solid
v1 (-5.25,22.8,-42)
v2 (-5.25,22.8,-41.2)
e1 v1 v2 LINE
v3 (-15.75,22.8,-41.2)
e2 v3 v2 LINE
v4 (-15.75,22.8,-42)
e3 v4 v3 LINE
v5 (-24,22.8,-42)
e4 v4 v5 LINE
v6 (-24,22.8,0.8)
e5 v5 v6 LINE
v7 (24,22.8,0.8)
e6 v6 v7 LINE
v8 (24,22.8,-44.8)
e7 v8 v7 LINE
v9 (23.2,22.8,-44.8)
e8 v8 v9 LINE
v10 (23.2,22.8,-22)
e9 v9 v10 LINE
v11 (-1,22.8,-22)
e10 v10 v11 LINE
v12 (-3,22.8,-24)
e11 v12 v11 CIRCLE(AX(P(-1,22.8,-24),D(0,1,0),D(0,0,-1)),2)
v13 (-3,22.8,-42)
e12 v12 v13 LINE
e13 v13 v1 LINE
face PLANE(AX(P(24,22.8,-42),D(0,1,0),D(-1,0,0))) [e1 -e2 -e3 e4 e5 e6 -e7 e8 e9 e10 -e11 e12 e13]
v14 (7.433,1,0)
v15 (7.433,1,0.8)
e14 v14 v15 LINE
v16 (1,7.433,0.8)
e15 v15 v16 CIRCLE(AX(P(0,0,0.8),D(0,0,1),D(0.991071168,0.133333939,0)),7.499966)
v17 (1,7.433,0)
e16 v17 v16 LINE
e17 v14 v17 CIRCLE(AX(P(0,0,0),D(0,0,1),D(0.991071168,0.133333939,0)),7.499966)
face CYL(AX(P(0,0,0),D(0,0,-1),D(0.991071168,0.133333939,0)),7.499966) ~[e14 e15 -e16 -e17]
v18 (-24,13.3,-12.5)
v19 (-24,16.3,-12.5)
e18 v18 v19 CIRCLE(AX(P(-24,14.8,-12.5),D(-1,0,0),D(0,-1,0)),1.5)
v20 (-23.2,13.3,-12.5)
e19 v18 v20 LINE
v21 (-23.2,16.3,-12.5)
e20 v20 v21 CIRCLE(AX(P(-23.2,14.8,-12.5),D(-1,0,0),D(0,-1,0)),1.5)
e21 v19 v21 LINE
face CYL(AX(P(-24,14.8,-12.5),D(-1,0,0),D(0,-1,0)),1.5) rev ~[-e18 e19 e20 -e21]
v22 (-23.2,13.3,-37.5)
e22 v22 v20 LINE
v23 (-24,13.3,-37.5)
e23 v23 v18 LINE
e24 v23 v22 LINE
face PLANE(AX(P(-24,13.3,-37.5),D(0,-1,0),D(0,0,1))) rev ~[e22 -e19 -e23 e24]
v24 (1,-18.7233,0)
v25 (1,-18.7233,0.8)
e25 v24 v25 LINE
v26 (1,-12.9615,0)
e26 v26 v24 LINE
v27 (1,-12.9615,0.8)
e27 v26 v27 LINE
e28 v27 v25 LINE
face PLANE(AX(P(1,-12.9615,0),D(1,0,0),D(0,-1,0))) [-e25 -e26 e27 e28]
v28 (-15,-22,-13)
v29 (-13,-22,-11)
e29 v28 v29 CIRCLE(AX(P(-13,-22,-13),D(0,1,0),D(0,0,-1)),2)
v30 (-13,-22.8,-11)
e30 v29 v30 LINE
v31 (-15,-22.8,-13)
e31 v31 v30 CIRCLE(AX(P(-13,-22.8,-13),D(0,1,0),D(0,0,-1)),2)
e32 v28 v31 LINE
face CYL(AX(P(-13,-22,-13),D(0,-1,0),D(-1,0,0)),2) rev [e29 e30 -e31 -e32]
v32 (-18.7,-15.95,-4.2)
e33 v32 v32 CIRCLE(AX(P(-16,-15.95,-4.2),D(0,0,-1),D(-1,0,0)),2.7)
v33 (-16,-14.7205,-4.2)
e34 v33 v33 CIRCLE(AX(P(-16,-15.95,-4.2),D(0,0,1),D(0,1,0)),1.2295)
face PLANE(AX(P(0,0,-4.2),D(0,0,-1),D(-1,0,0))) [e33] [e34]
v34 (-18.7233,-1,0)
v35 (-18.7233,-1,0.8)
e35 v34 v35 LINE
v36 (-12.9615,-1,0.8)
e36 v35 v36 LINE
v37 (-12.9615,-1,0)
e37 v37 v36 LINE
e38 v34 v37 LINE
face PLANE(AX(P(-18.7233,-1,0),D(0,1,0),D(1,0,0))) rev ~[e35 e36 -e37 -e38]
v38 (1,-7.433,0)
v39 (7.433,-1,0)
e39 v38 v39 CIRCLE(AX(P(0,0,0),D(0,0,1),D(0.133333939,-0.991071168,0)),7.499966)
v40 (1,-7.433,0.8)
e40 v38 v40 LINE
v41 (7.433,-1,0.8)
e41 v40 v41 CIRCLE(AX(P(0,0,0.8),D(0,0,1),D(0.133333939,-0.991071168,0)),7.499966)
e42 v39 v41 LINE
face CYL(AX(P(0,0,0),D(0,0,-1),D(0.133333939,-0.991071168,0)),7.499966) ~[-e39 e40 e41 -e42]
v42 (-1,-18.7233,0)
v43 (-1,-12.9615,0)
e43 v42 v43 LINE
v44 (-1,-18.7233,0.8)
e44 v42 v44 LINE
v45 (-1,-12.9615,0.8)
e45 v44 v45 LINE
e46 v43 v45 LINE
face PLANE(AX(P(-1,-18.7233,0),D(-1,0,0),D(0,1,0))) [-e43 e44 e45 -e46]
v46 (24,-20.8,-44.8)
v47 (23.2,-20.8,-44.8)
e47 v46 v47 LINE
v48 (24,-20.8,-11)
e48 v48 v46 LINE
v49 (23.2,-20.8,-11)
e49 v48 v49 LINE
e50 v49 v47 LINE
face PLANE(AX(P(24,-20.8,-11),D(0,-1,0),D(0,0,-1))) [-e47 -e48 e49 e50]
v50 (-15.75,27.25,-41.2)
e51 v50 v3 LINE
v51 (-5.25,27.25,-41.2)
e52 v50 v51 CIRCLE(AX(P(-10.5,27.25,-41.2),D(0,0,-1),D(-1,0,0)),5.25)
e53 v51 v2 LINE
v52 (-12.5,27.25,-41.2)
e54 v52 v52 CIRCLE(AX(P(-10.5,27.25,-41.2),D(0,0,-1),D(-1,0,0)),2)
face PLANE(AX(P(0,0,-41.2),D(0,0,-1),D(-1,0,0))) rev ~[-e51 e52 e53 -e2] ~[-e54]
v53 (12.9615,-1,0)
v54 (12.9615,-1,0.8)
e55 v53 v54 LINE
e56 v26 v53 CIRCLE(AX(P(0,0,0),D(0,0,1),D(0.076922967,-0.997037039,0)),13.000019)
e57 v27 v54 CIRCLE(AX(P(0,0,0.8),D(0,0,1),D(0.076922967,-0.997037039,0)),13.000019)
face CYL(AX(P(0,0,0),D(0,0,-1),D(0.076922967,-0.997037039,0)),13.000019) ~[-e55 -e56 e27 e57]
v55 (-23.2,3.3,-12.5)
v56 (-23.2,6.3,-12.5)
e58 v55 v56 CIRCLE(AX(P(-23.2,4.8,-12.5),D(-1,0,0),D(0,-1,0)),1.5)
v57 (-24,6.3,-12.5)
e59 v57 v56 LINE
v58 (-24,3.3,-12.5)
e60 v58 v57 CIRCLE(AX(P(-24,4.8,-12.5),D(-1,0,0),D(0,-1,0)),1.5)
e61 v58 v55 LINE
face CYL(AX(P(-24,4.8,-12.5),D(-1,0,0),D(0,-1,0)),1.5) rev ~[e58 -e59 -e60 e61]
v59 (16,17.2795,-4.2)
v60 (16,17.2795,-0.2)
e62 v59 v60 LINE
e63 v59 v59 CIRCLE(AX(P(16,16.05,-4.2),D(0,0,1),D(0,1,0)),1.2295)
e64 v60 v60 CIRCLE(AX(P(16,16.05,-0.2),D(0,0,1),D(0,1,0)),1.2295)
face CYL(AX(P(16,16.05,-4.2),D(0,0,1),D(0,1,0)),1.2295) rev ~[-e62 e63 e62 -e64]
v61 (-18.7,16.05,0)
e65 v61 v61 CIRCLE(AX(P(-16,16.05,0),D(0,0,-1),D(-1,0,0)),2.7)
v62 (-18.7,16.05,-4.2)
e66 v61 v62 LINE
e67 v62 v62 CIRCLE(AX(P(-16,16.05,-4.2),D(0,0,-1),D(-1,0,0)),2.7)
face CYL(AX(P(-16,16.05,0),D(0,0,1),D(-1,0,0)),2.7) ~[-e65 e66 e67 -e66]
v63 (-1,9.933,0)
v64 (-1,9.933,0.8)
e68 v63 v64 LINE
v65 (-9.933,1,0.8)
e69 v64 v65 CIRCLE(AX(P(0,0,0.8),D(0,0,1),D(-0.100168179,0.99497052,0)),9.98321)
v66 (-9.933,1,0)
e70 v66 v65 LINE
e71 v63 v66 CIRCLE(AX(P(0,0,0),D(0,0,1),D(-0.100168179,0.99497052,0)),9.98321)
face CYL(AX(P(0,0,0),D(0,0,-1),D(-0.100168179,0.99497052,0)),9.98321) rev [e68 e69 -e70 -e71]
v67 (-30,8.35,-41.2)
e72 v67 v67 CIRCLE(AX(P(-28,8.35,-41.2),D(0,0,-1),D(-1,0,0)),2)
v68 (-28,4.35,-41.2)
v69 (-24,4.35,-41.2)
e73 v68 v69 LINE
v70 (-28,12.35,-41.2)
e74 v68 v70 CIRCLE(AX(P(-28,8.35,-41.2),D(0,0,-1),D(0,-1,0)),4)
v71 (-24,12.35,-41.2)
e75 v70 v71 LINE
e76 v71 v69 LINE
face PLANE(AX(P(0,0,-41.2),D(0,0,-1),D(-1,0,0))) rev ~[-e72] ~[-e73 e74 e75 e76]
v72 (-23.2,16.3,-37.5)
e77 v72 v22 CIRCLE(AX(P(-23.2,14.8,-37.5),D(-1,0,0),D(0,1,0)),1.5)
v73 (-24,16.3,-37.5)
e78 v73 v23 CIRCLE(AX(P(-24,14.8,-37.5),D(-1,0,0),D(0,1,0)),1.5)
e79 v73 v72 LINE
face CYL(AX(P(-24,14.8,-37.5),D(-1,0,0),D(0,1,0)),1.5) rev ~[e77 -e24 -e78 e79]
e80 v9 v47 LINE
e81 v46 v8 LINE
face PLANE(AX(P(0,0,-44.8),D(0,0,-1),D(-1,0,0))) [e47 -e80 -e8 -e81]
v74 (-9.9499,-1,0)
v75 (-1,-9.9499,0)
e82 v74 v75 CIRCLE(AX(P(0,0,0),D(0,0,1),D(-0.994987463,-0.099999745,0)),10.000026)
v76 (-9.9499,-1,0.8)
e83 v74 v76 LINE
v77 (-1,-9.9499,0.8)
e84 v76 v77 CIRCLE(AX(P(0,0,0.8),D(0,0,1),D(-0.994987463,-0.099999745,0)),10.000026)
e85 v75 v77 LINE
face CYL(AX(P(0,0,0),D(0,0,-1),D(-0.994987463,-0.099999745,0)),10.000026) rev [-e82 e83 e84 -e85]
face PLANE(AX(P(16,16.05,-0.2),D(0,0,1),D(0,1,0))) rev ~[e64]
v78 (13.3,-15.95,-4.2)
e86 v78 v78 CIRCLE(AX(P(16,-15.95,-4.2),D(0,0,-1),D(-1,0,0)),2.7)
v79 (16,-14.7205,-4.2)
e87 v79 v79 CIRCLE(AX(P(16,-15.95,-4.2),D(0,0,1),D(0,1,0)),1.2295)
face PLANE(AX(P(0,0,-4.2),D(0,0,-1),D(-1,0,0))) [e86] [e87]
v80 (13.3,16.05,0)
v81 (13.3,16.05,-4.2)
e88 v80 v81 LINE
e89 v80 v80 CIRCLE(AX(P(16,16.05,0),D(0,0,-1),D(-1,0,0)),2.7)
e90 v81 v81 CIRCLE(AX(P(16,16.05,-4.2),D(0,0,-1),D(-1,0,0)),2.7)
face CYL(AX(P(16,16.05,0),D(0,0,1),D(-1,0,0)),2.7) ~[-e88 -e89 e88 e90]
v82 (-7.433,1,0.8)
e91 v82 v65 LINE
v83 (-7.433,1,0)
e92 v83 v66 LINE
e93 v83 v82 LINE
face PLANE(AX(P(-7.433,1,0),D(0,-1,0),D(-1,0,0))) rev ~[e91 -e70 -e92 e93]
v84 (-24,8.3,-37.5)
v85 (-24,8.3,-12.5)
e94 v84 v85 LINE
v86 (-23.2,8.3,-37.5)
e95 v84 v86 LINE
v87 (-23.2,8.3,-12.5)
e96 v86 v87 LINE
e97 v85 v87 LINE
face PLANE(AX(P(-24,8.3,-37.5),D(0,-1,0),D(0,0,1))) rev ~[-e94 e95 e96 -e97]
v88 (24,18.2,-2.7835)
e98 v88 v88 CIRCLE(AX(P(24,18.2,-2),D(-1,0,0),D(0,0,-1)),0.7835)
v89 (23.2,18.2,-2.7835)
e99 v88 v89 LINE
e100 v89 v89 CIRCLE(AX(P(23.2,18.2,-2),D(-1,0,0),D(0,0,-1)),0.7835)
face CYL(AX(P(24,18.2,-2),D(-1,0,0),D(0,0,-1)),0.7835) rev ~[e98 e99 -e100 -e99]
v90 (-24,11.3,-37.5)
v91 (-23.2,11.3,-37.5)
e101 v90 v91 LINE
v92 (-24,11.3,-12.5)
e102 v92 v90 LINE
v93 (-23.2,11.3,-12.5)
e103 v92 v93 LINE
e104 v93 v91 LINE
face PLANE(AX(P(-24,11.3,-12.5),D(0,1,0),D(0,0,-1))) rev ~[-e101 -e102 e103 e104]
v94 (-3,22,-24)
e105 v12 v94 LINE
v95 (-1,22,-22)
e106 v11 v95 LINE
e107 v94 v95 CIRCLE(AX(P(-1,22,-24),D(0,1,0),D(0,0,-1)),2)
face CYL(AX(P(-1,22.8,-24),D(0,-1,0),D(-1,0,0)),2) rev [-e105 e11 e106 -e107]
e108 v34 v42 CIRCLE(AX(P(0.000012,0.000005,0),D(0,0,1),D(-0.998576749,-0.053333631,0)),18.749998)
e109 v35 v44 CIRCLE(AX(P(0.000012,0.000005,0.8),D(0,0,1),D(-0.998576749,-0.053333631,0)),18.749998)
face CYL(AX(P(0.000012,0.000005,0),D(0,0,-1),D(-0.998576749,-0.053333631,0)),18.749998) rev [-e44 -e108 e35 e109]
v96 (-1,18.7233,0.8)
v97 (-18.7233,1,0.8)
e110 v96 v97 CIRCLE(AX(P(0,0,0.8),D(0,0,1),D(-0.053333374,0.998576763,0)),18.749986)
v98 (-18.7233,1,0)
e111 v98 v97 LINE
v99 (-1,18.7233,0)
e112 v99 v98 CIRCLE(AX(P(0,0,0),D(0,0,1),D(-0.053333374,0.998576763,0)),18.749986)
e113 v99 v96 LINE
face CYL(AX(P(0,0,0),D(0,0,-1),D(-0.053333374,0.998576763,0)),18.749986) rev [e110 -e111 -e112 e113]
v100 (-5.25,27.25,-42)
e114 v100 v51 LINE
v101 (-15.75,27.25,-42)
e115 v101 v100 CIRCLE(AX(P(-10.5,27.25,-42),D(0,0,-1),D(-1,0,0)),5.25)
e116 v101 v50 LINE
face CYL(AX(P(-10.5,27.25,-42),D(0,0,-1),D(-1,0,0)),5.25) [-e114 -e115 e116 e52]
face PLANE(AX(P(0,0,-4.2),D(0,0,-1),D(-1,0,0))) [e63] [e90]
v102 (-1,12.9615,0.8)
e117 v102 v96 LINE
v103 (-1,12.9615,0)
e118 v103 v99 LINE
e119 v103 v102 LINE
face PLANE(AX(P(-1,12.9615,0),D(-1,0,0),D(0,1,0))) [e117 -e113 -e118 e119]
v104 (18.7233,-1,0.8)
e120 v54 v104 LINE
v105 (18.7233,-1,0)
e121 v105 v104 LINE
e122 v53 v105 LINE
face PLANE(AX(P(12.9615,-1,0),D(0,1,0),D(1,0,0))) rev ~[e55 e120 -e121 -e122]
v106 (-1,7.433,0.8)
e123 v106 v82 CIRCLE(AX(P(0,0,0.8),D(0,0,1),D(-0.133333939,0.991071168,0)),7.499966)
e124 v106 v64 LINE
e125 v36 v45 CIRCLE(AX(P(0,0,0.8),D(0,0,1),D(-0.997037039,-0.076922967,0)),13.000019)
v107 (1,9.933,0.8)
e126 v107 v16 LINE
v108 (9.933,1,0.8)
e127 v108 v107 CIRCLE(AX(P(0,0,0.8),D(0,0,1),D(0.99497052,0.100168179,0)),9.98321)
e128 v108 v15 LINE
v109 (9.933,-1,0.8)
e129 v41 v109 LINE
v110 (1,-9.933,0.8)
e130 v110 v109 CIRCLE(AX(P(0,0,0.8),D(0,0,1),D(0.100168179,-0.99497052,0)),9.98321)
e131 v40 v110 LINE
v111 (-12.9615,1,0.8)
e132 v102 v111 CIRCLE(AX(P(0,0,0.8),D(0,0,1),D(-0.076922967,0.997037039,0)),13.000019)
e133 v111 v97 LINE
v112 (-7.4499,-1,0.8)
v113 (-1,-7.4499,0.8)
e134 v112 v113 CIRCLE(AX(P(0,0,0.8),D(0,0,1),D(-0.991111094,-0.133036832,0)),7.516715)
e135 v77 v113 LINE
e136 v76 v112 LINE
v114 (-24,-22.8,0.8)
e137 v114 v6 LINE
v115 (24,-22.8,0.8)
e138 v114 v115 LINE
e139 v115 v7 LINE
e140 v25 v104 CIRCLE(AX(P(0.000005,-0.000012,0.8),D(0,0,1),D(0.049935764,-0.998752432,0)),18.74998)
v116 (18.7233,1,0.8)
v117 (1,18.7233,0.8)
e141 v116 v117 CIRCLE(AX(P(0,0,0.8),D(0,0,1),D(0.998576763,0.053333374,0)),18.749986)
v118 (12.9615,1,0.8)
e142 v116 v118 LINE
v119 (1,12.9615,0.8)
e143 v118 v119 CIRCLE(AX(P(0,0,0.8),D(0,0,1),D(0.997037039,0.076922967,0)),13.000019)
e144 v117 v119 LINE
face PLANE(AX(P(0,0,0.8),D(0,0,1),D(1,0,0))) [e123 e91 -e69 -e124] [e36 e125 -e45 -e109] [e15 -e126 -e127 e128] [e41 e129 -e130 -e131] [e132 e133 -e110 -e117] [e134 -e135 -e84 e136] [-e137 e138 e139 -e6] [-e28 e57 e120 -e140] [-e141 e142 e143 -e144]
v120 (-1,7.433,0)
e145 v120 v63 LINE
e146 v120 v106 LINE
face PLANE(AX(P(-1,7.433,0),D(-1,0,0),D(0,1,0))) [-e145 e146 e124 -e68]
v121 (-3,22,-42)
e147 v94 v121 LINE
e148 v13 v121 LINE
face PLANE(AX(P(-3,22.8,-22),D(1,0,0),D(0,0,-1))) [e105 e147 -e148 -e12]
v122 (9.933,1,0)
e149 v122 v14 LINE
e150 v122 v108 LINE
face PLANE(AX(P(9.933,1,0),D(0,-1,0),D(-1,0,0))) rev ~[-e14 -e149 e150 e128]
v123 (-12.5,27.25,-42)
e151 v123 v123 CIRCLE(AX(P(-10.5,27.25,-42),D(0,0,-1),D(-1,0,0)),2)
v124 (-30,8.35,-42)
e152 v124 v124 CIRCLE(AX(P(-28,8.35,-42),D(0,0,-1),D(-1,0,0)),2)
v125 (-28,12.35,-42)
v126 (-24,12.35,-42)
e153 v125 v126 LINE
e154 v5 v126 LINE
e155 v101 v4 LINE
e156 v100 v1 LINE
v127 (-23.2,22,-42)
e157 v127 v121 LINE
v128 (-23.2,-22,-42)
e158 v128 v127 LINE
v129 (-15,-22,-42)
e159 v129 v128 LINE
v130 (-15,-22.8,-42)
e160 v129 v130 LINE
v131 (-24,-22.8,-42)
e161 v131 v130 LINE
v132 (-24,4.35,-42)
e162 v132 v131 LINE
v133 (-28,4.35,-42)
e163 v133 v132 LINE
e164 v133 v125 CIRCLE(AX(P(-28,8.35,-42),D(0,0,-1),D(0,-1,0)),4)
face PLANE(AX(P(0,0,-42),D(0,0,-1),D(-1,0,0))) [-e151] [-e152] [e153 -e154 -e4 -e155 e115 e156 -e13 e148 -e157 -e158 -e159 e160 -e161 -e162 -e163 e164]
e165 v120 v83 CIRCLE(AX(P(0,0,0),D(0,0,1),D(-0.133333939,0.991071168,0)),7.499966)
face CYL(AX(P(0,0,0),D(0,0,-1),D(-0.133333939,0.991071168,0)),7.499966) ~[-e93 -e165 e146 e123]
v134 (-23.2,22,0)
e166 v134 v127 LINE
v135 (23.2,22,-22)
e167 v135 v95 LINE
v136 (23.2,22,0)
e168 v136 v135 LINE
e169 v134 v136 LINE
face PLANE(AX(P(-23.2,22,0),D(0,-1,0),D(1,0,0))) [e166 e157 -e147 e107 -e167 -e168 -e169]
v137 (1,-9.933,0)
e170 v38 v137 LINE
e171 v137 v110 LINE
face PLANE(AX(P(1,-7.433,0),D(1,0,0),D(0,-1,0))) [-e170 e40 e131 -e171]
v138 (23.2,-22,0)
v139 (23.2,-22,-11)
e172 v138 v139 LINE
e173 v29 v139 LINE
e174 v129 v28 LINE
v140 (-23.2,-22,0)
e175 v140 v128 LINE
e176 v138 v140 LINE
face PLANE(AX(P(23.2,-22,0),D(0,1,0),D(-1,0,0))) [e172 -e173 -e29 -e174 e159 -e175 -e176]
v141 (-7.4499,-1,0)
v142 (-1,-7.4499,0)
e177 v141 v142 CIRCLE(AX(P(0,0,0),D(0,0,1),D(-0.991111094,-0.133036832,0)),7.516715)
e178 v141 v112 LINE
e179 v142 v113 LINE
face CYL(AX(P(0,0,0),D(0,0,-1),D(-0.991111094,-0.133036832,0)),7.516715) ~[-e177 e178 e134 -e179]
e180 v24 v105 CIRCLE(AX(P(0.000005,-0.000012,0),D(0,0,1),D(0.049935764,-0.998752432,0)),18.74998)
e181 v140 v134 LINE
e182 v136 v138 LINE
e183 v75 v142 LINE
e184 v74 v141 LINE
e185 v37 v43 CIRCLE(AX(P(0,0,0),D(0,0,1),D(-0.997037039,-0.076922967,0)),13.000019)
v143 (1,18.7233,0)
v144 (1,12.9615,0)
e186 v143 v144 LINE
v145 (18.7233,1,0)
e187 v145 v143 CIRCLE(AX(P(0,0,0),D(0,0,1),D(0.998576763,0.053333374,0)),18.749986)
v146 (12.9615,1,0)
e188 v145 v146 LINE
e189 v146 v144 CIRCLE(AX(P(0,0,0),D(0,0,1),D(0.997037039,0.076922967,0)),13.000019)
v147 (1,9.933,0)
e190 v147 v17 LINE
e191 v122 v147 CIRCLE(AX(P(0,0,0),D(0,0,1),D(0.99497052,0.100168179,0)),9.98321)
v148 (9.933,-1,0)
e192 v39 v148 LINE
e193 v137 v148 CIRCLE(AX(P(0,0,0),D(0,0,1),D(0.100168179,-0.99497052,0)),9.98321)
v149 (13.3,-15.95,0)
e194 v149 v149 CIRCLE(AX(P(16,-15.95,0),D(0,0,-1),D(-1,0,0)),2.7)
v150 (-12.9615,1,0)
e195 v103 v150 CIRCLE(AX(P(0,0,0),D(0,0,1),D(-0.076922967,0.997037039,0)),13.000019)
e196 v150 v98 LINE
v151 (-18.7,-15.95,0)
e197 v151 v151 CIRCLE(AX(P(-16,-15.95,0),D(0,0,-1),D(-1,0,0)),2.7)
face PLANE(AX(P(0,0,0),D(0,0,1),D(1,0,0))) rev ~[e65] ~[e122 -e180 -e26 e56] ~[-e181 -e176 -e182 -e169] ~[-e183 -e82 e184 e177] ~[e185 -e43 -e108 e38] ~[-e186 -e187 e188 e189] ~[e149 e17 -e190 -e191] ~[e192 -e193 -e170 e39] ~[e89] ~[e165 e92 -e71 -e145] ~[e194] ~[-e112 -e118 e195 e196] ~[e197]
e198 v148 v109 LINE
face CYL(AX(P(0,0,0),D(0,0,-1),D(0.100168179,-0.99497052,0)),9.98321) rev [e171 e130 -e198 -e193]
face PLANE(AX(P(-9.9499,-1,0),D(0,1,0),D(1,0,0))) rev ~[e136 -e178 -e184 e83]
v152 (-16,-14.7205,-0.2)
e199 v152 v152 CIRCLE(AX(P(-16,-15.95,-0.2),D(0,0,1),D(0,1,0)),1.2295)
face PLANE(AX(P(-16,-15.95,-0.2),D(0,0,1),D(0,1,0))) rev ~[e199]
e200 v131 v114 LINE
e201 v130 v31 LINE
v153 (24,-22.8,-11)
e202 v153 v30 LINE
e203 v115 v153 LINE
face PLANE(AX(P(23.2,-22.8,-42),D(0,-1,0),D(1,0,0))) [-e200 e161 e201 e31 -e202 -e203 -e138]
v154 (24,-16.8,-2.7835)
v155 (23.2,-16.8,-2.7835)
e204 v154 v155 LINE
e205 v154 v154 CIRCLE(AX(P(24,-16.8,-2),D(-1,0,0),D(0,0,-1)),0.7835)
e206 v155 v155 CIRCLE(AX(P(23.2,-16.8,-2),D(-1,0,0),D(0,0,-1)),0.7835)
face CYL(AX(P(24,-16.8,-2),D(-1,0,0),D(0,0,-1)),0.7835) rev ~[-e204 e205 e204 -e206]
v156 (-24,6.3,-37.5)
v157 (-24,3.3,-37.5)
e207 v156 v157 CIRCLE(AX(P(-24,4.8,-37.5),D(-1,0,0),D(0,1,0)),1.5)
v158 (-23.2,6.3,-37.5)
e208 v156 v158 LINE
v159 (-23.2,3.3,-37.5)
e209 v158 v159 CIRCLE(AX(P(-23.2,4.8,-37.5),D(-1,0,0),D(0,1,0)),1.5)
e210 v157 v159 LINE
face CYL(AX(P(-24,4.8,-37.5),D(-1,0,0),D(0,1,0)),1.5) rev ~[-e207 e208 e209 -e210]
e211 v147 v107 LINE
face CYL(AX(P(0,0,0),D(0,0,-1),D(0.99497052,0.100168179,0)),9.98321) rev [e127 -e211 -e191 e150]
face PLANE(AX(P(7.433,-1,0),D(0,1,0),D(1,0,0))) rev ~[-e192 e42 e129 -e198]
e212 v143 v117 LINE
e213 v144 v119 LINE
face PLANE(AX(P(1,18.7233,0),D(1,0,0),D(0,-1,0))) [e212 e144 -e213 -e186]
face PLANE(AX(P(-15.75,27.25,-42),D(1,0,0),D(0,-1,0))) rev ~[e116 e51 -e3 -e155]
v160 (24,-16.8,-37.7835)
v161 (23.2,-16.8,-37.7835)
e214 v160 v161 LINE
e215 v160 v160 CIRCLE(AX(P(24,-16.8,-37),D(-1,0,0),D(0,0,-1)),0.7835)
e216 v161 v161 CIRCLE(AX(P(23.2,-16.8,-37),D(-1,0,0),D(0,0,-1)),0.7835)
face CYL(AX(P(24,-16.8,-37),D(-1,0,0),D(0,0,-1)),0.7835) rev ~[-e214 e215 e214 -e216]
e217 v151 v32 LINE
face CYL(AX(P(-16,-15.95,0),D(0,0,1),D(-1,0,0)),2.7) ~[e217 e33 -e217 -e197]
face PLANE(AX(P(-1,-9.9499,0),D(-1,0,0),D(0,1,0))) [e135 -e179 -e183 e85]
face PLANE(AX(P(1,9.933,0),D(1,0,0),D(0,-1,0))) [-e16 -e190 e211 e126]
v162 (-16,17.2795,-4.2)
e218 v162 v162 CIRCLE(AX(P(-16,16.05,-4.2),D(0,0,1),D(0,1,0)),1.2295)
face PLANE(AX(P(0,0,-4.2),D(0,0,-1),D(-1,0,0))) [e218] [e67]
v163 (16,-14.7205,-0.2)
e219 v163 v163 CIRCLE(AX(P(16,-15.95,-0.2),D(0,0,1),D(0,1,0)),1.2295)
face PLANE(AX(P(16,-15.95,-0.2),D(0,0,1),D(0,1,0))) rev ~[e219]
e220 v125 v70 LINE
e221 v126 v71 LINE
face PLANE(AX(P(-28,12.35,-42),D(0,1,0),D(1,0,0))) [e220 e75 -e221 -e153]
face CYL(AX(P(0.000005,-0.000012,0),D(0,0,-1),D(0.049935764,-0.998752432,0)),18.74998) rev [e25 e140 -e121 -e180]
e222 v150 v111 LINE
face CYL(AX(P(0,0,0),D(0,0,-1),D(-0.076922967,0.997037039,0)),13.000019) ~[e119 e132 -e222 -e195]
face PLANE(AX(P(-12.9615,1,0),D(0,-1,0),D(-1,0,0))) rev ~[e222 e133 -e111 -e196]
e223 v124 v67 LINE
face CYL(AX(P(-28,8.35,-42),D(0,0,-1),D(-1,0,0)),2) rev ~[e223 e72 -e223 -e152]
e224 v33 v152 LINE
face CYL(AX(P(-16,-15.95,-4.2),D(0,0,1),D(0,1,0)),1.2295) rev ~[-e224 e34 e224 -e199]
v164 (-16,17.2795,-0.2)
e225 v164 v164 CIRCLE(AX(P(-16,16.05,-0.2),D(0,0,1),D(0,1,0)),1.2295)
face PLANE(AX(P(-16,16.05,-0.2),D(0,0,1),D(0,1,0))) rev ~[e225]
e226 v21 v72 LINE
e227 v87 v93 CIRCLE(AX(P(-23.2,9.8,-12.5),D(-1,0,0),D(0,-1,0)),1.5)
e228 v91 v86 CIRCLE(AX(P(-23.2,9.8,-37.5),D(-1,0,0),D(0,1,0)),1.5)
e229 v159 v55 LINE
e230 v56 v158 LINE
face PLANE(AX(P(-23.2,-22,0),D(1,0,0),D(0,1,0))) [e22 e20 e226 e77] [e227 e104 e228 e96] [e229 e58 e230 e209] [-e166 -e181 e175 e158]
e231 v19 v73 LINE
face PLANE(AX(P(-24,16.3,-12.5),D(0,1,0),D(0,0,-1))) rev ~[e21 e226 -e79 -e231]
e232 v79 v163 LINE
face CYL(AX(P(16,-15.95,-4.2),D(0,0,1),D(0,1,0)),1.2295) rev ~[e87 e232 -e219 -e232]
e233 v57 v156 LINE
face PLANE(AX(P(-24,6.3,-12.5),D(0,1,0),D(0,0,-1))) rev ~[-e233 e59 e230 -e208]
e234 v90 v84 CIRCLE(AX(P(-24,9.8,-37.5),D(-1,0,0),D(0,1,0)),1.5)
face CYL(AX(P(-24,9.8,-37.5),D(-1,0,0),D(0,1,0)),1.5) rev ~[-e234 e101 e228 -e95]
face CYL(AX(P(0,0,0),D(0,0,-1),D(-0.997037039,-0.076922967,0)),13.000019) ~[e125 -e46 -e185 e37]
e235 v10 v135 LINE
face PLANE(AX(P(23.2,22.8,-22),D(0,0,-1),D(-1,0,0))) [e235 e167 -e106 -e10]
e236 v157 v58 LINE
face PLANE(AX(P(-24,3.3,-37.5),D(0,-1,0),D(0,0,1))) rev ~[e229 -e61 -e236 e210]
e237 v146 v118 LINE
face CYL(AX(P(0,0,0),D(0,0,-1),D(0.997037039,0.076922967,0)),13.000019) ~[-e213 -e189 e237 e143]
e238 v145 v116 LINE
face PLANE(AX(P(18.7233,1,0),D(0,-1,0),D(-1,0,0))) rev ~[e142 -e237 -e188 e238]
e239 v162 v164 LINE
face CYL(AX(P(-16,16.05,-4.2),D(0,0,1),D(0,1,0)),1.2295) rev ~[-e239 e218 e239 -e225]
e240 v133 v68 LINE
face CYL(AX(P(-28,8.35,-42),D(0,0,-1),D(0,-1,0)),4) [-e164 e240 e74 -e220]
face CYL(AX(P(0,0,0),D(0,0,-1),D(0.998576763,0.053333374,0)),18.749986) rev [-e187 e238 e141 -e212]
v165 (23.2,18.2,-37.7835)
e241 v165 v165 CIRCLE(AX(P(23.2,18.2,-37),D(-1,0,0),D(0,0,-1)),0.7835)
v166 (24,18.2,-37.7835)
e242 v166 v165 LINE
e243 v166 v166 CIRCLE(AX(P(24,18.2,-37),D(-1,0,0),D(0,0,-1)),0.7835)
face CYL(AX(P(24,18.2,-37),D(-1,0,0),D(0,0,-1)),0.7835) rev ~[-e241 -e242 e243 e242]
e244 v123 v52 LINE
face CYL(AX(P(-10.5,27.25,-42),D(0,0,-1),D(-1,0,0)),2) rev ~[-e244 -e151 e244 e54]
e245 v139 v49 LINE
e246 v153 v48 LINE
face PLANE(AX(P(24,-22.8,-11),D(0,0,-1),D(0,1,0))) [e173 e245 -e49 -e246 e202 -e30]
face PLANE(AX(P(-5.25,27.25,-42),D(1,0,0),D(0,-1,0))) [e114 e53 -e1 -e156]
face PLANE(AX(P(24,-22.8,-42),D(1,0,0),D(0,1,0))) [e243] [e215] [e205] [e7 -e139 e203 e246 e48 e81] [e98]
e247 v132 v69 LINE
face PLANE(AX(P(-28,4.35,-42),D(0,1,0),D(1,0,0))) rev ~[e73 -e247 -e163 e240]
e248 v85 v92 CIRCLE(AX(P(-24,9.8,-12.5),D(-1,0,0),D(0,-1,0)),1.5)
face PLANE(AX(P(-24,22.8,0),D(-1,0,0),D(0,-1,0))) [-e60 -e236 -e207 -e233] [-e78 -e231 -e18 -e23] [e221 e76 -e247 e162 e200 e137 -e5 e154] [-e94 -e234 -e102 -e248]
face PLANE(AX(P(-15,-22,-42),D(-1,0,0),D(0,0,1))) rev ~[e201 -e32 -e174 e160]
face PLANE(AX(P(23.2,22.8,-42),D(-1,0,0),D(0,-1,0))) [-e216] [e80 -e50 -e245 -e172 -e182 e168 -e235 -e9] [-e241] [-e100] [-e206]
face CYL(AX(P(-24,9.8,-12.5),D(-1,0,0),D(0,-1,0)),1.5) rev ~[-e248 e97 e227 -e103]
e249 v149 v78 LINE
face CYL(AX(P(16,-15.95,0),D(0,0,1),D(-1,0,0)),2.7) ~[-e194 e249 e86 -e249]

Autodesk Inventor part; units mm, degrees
ref_plane "YZ Plane" through (0, 0, 0) normal (1, 0, 0) x (0, 1, 0)
ref_plane "XZ Plane" through (0, 0, 0) normal (0, 1, 0) x (-1, 0, 0)
ref_plane "XY Plane" through (0, 0, 0) normal (0, 0, 1) x (1, 0, 0)
sketch "Sketch1" plane through (0, 0, 0) normal (0, 0, 1) x (1, 0, 0)
  line L0 (-24, 22.8) -> (24, 22.8)
  line L1 (24, 22.8) -> (24, -22.8)
  line L2 (24, -22.8) -> (-24, -22.8)
  line L3 (-24, -22.8) -> (-24, 22.8)
  circle A0 centre (-16, 16.05) radius 2.7
  circle A1 centre (16, 16.05) radius 2.7
  circle A2 centre (16, -15.95) radius 2.7
  circle A3 centre (-16, -15.95) radius 2.7
  line L4 (0, -31.92) -> (0, 31.92) projected
  line L5 (-33.6, 0) -> (33.6, 0) projected
  arc A4 (18.7233, 1) -> (1, 18.7233) centre (0, 0) ccw
  arc A5 (-1, 18.7233) -> (-18.7233, 1) centre (0, 0) ccw
  arc A6 (12.9615, 1) -> (1, 12.9615) centre (0, 0) ccw
  arc A7 (-1, 12.9615) -> (-12.9615, 1) centre (0, 0) ccw
  arc A8 (9.933, 1) -> (1, 9.933) centre (0, 0) ccw
  arc A9 (-1, 9.933) -> (-9.933, 1) centre (0, 0) ccw
  arc A10 (-9.9499, -1) -> (-1, -9.9499) centre (0, 0) ccw
  arc A11 (1, -9.933) -> (9.933, -1) centre (0, 0) ccw
  arc A12 (-12.9615, -1) -> (-1, -12.9615) centre (0, 0) ccw
  arc A13 (1, -12.9615) -> (12.9615, -1) centre (0, 0) ccw
  line L6 (-1, -18.7233) -> (-1, -12.9615)
  line L7 (-1, -9.9499) -> (-1, -7.4499)
  line L8 (1, -7.433) -> (1, -9.933)
  line L9 (1, -12.9615) -> (1, -18.7233)
  line L10 (-7.433, 1) -> (-9.933, 1)
  line L11 (-12.9615, 1) -> (-18.7233, 1)
  line L12 (-1, 7.433) -> (-1, 9.933)
  line L13 (-1, 12.9615) -> (-1, 18.7233)
  line L14 (1, 18.7233) -> (1, 12.9615)
  line L15 (1, 9.933) -> (1, 7.433)
  line L16 (18.7233, 1) -> (12.9615, 1)
  line L17 (9.933, 1) -> (7.433, 1)
  line L18 (7.433, -1) -> (9.933, -1)
  line L19 (12.9615, -1) -> (18.7233, -1)
  line L20 (-18.7233, -1) -> (-12.9615, -1)
  line L21 (-9.9499, -1) -> (-7.4499, -1)
  arc A14 (-7.4499, -1) -> (-1, -7.4499) centre (0, 0) ccw
  arc A15 (1, -7.433) -> (7.433, -1) centre (0, 0) ccw
  arc A16 (-1, 7.433) -> (-7.433, 1) centre (0, 0) ccw
  arc A17 (7.433, 1) -> (1, 7.433) centre (0, 0) ccw
  arc A18 (-18.7233, -1) -> (-0.9363, -18.7266) centre (0, 0) ccw
  arc A19 (0.9363, -18.7266) -> (18.7233, -1) centre (0, 0) ccw
  circle A20 centre (16, 16.05) radius 1
  circle A21 centre (-16, 16.05) radius 1
  circle A22 centre (-16, -15.95) radius 1
  circle A23 centre (16, -15.95) radius 1
  point P0 (-24, 0)
  point P1 (-24, 0)
  point P2 (0, 22.8)
  point P3 (0, 22.8)
  dimension "d4" = 48
  dimension "d5" = 45.6
  dimension "d6" = 5.4
  dimension "d7" = 5.4
  dimension "d8" = 5.4
  dimension "d9" = 5.4
  dimension "d10" = 16
  dimension "d11" = 16
  dimension "d12" = 15.95
  dimension "d13" = 16.05
  dimension "d22" = 2.5
  dimension "d28" = 2
  dimension "d29" = 2
  dimension "d30" = 2
  dimension "d31" = 2
extrude "Extrusion1" add sketch "Sketch1" along normal blind 0.8 contours L0 L4 L5 L3 | L0 L1 L5 L4 | L5 L4 L2 L3 | L5 L1 L2 L4 | A0 | A1 | A2 | A3 | A20 | A21 | A22 | A23
sketch "Sketch2" plane through (0, 0, 0) normal (0, 0, -1) x (-1, 0, 0)
  line L0 (-24, 22.8) -> (24, 22.8) projected
  line L1 (-24, -22.8) -> (-24, 22.8) projected
  line L2 (24, -22.8) -> (-24, -22.8) projected
  line L3 (24, 22.8) -> (24, -22.8) projected
  line L4 (23.2, 22) -> (-23.2, 22)
  line L5 (-23.2, 22) -> (-23.2, -22)
  line L6 (-23.2, -22) -> (23.2, -22)
  line L7 (23.2, -22) -> (23.2, 22)
  point P0 (0, 0)
  dimension "d25" = 0.8
extrude "Extrusion2" add sketch "Sketch2" along normal blind 42
sketch "Sketch3" plane through (0, 0, 0) normal (0, 0, -1) x (-1, 0, 0)
  circle A0 centre (-16, 16.05) radius 2.7
  circle A1 centre (16, 16.05) radius 2.7
  circle A2 centre (16, -15.95) radius 2.7
  circle A3 centre (-16, -15.95) radius 2.7
  line L0 (33.6, 0) -> (-33.6, 0) projected
  line L1 (0, -31.92) -> (0, 31.92) projected
  point P0 (0, 0)
  dimension "d32" = 5.4
  dimension "d33" = 5.4
  dimension "d34" = 5.4
  dimension "d35" = 5.4
  dimension "d36" = 16.05
  dimension "d37" = 15.95
  dimension "d38" = 16
  dimension "d39" = 16
extrude "Extrusion3" add sketch "Sketch3" along normal blind 4.2
sketch "Sketch4" plane through (16, 16.05, -4.2) normal (0, 0, -1) x (-1, 0, 0)
  circle A0 centre (0, 0) radius 2.7 projected
  circle A1 centre (32, 0) radius 2.7 projected
  circle A2 centre (32, -32) radius 2.7 projected
  circle A3 centre (0, -32) radius 2.7 projected
  point P0 (16, -16.05)
hole "Hole1" at (16, 16.05, -4.2) at (-16, 16.05, -4.2) at (-16, -15.95, -4.2) at (16, -15.95, -4.2) direction (0, 0, 1) diameter 2.459 depth 4 thread size "M3x0.5" class "6H" standard "ISO Metric profile"
sketch "Sketch5" plane through (-24, 22.8, 0.8) normal (0, 1, 0) x (1, 0, 0)
  line L0 (0, 42.8) -> (48, 42.8) projected
  line L1 (48, 42.8) -> (21.8, 42.8)
  line L2 (0.8, 42.8) -> (47.2, 42.8) projected
  line L3 (47.2, 22.8) -> (21, 22.8)
  line L4 (21, 22.8) -> (21, 42.8)
  line L5 (21, 42.8) -> (47.2, 42.8)
  line L6 (47.2, 42.8) -> (47.2, 22.8)
  line L7 (48, 0) -> (48, 42.8) projected
  point P0 (24, 0.8)
  dimension "d53" = 26.2
  dimension "d54" = 20
  dimension "d55" = 0.8
extrude "Extrusion4" cut sketch "Sketch5" against normal up to surface (0.8 mm away)
sketch "Sketch6" plane through (-23.2, -22, 0) normal (0, 1, 0) x (1, 0, 0)
  line L0 (47.2, 42) -> (-0.8, 42) projected
  line L1 (46.4, 42) -> (8.2, 42)
  line L2 (8.2, 42) -> (8.2, 11)
  line L3 (8.2, 11) -> (46.4, 11)
  line L4 (46.4, 11) -> (46.4, 42)
  line L5 (47.2, 42) -> (47.2, -0.8) projected
  point P0 (23.2, 0)
  dimension "d56" = 0.8
  dimension "d57" = 38.2
  dimension "d58" = 31
extrude "Extrusion5" cut sketch "Sketch6" against normal up to surface (0.8 mm away)
fillet "Fillet1" radius 2 2 edges at (-3, 22.4, -22) (-15, -22.4, -11)
sketch "Sketch7" plane through (-24, -22.8, 0.8) normal (-1, 0, 0) x (0, 0, 1)
  line L0 (-38.3, 37.6) -> (-13.3, 37.6) construction
  line L1 (-38.3, 36.1) -> (-13.3, 36.1)
  line L2 (-13.3, 39.1) -> (-38.3, 39.1)
  arc A0 (-38.3, 39.1) -> (-38.3, 36.1) centre (-38.3, 37.6) ccw
  arc A1 (-13.3, 36.1) -> (-13.3, 39.1) centre (-13.3, 37.6) ccw
  line L3 (-42.8, 45.6) -> (0, 45.6) projected
  line L4 (-42.8, 0) -> (-42.8, 45.6) projected
  line L5 (-13.3, 34.1) -> (-38.3, 34.1)
  arc A2 (-38.3, 34.1) -> (-38.3, 31.1) centre (-38.3, 32.6) ccw
  line L6 (-38.3, 31.1) -> (-13.3, 31.1)
  arc A3 (-13.3, 31.1) -> (-13.3, 34.1) centre (-13.3, 32.6) ccw
  line L7 (-13.3, 29.1) -> (-38.3, 29.1)
  arc A4 (-38.3, 29.1) -> (-38.3, 26.1) centre (-38.3, 27.6) ccw
  line L8 (-38.3, 26.1) -> (-13.3, 26.1)
  arc A5 (-13.3, 26.1) -> (-13.3, 29.1) centre (-13.3, 27.6) ccw
  point P0 (-0.8, 22.8)
  point P1 (-25.8, 37.6)
  dimension "d63" = 3
  dimension "d64" = 25
  dimension "d65" = 8
  dimension "d66" = 17
  dimension "d69" = 5
extrude "Extrusion6" cut sketch "Sketch7" against normal up to surface (0.8 mm away)
sketch "Sketch8" plane through (24, -22.8, 0.8) normal (1, 0, 0) x (0, 0, -1)
  line L0 (0, 45.6) -> (42.8, 45.6) projected
  line L1 (42.8, 45.6) -> (42.8, 0) projected
  point P0 (0.8, 22.8)
  point P1 (2.8, 41)
  point P2 (37.8, 41)
  point P3 (37.8, 6)
  point P4 (2.8, 6)
  dimension "d76" = 4.6
  dimension "d77" = 39.6
  dimension "d78" = 40
  dimension "d79" = 5
hole "Hole2" at (24, 18.2, -2) at (24, 18.2, -37) at (24, -16.8, -37) at (24, -16.8, -2) direction (-1, 0, 0) diameter 1.567 depth 4.55 thread size "M2x0.4" class "6H" standard "ISO Metric profile"
sketch "Sketch9" plane through (0, 0, -42) normal (0, 0, -1) x (-1, 0, 0)
  line L0 (-24, -22.8) -> (-24, 22.8) projected
  line L1 (24, -22.8) -> (-24, -22.8) projected
  line L2 (-24, 22.8) -> (-23.2, 22.8)
  line L3 (-23.2, 22.8) -> (-23.2, -22.8)
  line L4 (-23.2, -22.8) -> (-24, -22.8)
  line L5 (-24, -22.8) -> (-24, 22.8)
  point P0 (0, 0)
  dimension "d87" = 0.8
extrude "Extrusion7" add sketch "Sketch9" along normal blind 2.8
sketch "Sketch10" plane through (24, -22.8, 0.8) normal (1, 0, 0) x (0, 0, -1)
  line L0 (45.6, 0) -> (45.6, 45.6) projected
  line L1 (45.6, 0) -> (11.8, 0)
  line L2 (11.8, 0) -> (11.8, 2)
  line L3 (11.8, 2) -> (45.6, 2)
  line L4 (45.6, 2) -> (45.6, 0)
  point P0 (0.8, 22.8)
  point P1 (45.6, 2)
  dimension "d90" = 33.8
  dimension "d91" = 2
extrude "Extrusion8" cut sketch "Sketch10" against normal up to surface (0.8 mm away)
sketch "Sketch11" plane through (0, 0, -42) normal (0, 0, -1) x (-1, 0, 0)
  circle A0 centre (10.5, 27.25) radius 2
  circle A1 centre (28, 8.35) radius 2
  line L0 (24, 22.8) -> (3, 22.8) projected
  arc A2 (15.75, 27.25) -> (5.25, 27.25) centre (10.5, 27.25) ccw
  line L1 (23.2, 22) -> (-23.2, 22) projected
  line L2 (5.25, 27.25) -> (5.25, 22.8)
  line L3 (15.75, 27.25) -> (15.75, 22.8)
  arc A3 (28, 4.35) -> (28, 12.35) centre (28, 8.35) ccw
  line L4 (28, 12.35) -> (24, 12.35)
  line L5 (24, 22.8) -> (24, -22.8) projected
  line L6 (28, 4.35) -> (24, 4.35)
  point P0 (0, 0)
  point P1 (10.5, 31.85)
  dimension "d94" = 4
  dimension "d95" = 4
  dimension "d96" = 28
  dimension "d97" = 27.25
  dimension "d98" = 10.5
  dimension "d99" = 8.35
  dimension "d100" = 31.85
  dimension "d101" = 8
extrude "Extrusion9" add sketch "Sketch11" against normal blind 0.8
properties part number "Fan Cover" material "Aluminum 6061"
